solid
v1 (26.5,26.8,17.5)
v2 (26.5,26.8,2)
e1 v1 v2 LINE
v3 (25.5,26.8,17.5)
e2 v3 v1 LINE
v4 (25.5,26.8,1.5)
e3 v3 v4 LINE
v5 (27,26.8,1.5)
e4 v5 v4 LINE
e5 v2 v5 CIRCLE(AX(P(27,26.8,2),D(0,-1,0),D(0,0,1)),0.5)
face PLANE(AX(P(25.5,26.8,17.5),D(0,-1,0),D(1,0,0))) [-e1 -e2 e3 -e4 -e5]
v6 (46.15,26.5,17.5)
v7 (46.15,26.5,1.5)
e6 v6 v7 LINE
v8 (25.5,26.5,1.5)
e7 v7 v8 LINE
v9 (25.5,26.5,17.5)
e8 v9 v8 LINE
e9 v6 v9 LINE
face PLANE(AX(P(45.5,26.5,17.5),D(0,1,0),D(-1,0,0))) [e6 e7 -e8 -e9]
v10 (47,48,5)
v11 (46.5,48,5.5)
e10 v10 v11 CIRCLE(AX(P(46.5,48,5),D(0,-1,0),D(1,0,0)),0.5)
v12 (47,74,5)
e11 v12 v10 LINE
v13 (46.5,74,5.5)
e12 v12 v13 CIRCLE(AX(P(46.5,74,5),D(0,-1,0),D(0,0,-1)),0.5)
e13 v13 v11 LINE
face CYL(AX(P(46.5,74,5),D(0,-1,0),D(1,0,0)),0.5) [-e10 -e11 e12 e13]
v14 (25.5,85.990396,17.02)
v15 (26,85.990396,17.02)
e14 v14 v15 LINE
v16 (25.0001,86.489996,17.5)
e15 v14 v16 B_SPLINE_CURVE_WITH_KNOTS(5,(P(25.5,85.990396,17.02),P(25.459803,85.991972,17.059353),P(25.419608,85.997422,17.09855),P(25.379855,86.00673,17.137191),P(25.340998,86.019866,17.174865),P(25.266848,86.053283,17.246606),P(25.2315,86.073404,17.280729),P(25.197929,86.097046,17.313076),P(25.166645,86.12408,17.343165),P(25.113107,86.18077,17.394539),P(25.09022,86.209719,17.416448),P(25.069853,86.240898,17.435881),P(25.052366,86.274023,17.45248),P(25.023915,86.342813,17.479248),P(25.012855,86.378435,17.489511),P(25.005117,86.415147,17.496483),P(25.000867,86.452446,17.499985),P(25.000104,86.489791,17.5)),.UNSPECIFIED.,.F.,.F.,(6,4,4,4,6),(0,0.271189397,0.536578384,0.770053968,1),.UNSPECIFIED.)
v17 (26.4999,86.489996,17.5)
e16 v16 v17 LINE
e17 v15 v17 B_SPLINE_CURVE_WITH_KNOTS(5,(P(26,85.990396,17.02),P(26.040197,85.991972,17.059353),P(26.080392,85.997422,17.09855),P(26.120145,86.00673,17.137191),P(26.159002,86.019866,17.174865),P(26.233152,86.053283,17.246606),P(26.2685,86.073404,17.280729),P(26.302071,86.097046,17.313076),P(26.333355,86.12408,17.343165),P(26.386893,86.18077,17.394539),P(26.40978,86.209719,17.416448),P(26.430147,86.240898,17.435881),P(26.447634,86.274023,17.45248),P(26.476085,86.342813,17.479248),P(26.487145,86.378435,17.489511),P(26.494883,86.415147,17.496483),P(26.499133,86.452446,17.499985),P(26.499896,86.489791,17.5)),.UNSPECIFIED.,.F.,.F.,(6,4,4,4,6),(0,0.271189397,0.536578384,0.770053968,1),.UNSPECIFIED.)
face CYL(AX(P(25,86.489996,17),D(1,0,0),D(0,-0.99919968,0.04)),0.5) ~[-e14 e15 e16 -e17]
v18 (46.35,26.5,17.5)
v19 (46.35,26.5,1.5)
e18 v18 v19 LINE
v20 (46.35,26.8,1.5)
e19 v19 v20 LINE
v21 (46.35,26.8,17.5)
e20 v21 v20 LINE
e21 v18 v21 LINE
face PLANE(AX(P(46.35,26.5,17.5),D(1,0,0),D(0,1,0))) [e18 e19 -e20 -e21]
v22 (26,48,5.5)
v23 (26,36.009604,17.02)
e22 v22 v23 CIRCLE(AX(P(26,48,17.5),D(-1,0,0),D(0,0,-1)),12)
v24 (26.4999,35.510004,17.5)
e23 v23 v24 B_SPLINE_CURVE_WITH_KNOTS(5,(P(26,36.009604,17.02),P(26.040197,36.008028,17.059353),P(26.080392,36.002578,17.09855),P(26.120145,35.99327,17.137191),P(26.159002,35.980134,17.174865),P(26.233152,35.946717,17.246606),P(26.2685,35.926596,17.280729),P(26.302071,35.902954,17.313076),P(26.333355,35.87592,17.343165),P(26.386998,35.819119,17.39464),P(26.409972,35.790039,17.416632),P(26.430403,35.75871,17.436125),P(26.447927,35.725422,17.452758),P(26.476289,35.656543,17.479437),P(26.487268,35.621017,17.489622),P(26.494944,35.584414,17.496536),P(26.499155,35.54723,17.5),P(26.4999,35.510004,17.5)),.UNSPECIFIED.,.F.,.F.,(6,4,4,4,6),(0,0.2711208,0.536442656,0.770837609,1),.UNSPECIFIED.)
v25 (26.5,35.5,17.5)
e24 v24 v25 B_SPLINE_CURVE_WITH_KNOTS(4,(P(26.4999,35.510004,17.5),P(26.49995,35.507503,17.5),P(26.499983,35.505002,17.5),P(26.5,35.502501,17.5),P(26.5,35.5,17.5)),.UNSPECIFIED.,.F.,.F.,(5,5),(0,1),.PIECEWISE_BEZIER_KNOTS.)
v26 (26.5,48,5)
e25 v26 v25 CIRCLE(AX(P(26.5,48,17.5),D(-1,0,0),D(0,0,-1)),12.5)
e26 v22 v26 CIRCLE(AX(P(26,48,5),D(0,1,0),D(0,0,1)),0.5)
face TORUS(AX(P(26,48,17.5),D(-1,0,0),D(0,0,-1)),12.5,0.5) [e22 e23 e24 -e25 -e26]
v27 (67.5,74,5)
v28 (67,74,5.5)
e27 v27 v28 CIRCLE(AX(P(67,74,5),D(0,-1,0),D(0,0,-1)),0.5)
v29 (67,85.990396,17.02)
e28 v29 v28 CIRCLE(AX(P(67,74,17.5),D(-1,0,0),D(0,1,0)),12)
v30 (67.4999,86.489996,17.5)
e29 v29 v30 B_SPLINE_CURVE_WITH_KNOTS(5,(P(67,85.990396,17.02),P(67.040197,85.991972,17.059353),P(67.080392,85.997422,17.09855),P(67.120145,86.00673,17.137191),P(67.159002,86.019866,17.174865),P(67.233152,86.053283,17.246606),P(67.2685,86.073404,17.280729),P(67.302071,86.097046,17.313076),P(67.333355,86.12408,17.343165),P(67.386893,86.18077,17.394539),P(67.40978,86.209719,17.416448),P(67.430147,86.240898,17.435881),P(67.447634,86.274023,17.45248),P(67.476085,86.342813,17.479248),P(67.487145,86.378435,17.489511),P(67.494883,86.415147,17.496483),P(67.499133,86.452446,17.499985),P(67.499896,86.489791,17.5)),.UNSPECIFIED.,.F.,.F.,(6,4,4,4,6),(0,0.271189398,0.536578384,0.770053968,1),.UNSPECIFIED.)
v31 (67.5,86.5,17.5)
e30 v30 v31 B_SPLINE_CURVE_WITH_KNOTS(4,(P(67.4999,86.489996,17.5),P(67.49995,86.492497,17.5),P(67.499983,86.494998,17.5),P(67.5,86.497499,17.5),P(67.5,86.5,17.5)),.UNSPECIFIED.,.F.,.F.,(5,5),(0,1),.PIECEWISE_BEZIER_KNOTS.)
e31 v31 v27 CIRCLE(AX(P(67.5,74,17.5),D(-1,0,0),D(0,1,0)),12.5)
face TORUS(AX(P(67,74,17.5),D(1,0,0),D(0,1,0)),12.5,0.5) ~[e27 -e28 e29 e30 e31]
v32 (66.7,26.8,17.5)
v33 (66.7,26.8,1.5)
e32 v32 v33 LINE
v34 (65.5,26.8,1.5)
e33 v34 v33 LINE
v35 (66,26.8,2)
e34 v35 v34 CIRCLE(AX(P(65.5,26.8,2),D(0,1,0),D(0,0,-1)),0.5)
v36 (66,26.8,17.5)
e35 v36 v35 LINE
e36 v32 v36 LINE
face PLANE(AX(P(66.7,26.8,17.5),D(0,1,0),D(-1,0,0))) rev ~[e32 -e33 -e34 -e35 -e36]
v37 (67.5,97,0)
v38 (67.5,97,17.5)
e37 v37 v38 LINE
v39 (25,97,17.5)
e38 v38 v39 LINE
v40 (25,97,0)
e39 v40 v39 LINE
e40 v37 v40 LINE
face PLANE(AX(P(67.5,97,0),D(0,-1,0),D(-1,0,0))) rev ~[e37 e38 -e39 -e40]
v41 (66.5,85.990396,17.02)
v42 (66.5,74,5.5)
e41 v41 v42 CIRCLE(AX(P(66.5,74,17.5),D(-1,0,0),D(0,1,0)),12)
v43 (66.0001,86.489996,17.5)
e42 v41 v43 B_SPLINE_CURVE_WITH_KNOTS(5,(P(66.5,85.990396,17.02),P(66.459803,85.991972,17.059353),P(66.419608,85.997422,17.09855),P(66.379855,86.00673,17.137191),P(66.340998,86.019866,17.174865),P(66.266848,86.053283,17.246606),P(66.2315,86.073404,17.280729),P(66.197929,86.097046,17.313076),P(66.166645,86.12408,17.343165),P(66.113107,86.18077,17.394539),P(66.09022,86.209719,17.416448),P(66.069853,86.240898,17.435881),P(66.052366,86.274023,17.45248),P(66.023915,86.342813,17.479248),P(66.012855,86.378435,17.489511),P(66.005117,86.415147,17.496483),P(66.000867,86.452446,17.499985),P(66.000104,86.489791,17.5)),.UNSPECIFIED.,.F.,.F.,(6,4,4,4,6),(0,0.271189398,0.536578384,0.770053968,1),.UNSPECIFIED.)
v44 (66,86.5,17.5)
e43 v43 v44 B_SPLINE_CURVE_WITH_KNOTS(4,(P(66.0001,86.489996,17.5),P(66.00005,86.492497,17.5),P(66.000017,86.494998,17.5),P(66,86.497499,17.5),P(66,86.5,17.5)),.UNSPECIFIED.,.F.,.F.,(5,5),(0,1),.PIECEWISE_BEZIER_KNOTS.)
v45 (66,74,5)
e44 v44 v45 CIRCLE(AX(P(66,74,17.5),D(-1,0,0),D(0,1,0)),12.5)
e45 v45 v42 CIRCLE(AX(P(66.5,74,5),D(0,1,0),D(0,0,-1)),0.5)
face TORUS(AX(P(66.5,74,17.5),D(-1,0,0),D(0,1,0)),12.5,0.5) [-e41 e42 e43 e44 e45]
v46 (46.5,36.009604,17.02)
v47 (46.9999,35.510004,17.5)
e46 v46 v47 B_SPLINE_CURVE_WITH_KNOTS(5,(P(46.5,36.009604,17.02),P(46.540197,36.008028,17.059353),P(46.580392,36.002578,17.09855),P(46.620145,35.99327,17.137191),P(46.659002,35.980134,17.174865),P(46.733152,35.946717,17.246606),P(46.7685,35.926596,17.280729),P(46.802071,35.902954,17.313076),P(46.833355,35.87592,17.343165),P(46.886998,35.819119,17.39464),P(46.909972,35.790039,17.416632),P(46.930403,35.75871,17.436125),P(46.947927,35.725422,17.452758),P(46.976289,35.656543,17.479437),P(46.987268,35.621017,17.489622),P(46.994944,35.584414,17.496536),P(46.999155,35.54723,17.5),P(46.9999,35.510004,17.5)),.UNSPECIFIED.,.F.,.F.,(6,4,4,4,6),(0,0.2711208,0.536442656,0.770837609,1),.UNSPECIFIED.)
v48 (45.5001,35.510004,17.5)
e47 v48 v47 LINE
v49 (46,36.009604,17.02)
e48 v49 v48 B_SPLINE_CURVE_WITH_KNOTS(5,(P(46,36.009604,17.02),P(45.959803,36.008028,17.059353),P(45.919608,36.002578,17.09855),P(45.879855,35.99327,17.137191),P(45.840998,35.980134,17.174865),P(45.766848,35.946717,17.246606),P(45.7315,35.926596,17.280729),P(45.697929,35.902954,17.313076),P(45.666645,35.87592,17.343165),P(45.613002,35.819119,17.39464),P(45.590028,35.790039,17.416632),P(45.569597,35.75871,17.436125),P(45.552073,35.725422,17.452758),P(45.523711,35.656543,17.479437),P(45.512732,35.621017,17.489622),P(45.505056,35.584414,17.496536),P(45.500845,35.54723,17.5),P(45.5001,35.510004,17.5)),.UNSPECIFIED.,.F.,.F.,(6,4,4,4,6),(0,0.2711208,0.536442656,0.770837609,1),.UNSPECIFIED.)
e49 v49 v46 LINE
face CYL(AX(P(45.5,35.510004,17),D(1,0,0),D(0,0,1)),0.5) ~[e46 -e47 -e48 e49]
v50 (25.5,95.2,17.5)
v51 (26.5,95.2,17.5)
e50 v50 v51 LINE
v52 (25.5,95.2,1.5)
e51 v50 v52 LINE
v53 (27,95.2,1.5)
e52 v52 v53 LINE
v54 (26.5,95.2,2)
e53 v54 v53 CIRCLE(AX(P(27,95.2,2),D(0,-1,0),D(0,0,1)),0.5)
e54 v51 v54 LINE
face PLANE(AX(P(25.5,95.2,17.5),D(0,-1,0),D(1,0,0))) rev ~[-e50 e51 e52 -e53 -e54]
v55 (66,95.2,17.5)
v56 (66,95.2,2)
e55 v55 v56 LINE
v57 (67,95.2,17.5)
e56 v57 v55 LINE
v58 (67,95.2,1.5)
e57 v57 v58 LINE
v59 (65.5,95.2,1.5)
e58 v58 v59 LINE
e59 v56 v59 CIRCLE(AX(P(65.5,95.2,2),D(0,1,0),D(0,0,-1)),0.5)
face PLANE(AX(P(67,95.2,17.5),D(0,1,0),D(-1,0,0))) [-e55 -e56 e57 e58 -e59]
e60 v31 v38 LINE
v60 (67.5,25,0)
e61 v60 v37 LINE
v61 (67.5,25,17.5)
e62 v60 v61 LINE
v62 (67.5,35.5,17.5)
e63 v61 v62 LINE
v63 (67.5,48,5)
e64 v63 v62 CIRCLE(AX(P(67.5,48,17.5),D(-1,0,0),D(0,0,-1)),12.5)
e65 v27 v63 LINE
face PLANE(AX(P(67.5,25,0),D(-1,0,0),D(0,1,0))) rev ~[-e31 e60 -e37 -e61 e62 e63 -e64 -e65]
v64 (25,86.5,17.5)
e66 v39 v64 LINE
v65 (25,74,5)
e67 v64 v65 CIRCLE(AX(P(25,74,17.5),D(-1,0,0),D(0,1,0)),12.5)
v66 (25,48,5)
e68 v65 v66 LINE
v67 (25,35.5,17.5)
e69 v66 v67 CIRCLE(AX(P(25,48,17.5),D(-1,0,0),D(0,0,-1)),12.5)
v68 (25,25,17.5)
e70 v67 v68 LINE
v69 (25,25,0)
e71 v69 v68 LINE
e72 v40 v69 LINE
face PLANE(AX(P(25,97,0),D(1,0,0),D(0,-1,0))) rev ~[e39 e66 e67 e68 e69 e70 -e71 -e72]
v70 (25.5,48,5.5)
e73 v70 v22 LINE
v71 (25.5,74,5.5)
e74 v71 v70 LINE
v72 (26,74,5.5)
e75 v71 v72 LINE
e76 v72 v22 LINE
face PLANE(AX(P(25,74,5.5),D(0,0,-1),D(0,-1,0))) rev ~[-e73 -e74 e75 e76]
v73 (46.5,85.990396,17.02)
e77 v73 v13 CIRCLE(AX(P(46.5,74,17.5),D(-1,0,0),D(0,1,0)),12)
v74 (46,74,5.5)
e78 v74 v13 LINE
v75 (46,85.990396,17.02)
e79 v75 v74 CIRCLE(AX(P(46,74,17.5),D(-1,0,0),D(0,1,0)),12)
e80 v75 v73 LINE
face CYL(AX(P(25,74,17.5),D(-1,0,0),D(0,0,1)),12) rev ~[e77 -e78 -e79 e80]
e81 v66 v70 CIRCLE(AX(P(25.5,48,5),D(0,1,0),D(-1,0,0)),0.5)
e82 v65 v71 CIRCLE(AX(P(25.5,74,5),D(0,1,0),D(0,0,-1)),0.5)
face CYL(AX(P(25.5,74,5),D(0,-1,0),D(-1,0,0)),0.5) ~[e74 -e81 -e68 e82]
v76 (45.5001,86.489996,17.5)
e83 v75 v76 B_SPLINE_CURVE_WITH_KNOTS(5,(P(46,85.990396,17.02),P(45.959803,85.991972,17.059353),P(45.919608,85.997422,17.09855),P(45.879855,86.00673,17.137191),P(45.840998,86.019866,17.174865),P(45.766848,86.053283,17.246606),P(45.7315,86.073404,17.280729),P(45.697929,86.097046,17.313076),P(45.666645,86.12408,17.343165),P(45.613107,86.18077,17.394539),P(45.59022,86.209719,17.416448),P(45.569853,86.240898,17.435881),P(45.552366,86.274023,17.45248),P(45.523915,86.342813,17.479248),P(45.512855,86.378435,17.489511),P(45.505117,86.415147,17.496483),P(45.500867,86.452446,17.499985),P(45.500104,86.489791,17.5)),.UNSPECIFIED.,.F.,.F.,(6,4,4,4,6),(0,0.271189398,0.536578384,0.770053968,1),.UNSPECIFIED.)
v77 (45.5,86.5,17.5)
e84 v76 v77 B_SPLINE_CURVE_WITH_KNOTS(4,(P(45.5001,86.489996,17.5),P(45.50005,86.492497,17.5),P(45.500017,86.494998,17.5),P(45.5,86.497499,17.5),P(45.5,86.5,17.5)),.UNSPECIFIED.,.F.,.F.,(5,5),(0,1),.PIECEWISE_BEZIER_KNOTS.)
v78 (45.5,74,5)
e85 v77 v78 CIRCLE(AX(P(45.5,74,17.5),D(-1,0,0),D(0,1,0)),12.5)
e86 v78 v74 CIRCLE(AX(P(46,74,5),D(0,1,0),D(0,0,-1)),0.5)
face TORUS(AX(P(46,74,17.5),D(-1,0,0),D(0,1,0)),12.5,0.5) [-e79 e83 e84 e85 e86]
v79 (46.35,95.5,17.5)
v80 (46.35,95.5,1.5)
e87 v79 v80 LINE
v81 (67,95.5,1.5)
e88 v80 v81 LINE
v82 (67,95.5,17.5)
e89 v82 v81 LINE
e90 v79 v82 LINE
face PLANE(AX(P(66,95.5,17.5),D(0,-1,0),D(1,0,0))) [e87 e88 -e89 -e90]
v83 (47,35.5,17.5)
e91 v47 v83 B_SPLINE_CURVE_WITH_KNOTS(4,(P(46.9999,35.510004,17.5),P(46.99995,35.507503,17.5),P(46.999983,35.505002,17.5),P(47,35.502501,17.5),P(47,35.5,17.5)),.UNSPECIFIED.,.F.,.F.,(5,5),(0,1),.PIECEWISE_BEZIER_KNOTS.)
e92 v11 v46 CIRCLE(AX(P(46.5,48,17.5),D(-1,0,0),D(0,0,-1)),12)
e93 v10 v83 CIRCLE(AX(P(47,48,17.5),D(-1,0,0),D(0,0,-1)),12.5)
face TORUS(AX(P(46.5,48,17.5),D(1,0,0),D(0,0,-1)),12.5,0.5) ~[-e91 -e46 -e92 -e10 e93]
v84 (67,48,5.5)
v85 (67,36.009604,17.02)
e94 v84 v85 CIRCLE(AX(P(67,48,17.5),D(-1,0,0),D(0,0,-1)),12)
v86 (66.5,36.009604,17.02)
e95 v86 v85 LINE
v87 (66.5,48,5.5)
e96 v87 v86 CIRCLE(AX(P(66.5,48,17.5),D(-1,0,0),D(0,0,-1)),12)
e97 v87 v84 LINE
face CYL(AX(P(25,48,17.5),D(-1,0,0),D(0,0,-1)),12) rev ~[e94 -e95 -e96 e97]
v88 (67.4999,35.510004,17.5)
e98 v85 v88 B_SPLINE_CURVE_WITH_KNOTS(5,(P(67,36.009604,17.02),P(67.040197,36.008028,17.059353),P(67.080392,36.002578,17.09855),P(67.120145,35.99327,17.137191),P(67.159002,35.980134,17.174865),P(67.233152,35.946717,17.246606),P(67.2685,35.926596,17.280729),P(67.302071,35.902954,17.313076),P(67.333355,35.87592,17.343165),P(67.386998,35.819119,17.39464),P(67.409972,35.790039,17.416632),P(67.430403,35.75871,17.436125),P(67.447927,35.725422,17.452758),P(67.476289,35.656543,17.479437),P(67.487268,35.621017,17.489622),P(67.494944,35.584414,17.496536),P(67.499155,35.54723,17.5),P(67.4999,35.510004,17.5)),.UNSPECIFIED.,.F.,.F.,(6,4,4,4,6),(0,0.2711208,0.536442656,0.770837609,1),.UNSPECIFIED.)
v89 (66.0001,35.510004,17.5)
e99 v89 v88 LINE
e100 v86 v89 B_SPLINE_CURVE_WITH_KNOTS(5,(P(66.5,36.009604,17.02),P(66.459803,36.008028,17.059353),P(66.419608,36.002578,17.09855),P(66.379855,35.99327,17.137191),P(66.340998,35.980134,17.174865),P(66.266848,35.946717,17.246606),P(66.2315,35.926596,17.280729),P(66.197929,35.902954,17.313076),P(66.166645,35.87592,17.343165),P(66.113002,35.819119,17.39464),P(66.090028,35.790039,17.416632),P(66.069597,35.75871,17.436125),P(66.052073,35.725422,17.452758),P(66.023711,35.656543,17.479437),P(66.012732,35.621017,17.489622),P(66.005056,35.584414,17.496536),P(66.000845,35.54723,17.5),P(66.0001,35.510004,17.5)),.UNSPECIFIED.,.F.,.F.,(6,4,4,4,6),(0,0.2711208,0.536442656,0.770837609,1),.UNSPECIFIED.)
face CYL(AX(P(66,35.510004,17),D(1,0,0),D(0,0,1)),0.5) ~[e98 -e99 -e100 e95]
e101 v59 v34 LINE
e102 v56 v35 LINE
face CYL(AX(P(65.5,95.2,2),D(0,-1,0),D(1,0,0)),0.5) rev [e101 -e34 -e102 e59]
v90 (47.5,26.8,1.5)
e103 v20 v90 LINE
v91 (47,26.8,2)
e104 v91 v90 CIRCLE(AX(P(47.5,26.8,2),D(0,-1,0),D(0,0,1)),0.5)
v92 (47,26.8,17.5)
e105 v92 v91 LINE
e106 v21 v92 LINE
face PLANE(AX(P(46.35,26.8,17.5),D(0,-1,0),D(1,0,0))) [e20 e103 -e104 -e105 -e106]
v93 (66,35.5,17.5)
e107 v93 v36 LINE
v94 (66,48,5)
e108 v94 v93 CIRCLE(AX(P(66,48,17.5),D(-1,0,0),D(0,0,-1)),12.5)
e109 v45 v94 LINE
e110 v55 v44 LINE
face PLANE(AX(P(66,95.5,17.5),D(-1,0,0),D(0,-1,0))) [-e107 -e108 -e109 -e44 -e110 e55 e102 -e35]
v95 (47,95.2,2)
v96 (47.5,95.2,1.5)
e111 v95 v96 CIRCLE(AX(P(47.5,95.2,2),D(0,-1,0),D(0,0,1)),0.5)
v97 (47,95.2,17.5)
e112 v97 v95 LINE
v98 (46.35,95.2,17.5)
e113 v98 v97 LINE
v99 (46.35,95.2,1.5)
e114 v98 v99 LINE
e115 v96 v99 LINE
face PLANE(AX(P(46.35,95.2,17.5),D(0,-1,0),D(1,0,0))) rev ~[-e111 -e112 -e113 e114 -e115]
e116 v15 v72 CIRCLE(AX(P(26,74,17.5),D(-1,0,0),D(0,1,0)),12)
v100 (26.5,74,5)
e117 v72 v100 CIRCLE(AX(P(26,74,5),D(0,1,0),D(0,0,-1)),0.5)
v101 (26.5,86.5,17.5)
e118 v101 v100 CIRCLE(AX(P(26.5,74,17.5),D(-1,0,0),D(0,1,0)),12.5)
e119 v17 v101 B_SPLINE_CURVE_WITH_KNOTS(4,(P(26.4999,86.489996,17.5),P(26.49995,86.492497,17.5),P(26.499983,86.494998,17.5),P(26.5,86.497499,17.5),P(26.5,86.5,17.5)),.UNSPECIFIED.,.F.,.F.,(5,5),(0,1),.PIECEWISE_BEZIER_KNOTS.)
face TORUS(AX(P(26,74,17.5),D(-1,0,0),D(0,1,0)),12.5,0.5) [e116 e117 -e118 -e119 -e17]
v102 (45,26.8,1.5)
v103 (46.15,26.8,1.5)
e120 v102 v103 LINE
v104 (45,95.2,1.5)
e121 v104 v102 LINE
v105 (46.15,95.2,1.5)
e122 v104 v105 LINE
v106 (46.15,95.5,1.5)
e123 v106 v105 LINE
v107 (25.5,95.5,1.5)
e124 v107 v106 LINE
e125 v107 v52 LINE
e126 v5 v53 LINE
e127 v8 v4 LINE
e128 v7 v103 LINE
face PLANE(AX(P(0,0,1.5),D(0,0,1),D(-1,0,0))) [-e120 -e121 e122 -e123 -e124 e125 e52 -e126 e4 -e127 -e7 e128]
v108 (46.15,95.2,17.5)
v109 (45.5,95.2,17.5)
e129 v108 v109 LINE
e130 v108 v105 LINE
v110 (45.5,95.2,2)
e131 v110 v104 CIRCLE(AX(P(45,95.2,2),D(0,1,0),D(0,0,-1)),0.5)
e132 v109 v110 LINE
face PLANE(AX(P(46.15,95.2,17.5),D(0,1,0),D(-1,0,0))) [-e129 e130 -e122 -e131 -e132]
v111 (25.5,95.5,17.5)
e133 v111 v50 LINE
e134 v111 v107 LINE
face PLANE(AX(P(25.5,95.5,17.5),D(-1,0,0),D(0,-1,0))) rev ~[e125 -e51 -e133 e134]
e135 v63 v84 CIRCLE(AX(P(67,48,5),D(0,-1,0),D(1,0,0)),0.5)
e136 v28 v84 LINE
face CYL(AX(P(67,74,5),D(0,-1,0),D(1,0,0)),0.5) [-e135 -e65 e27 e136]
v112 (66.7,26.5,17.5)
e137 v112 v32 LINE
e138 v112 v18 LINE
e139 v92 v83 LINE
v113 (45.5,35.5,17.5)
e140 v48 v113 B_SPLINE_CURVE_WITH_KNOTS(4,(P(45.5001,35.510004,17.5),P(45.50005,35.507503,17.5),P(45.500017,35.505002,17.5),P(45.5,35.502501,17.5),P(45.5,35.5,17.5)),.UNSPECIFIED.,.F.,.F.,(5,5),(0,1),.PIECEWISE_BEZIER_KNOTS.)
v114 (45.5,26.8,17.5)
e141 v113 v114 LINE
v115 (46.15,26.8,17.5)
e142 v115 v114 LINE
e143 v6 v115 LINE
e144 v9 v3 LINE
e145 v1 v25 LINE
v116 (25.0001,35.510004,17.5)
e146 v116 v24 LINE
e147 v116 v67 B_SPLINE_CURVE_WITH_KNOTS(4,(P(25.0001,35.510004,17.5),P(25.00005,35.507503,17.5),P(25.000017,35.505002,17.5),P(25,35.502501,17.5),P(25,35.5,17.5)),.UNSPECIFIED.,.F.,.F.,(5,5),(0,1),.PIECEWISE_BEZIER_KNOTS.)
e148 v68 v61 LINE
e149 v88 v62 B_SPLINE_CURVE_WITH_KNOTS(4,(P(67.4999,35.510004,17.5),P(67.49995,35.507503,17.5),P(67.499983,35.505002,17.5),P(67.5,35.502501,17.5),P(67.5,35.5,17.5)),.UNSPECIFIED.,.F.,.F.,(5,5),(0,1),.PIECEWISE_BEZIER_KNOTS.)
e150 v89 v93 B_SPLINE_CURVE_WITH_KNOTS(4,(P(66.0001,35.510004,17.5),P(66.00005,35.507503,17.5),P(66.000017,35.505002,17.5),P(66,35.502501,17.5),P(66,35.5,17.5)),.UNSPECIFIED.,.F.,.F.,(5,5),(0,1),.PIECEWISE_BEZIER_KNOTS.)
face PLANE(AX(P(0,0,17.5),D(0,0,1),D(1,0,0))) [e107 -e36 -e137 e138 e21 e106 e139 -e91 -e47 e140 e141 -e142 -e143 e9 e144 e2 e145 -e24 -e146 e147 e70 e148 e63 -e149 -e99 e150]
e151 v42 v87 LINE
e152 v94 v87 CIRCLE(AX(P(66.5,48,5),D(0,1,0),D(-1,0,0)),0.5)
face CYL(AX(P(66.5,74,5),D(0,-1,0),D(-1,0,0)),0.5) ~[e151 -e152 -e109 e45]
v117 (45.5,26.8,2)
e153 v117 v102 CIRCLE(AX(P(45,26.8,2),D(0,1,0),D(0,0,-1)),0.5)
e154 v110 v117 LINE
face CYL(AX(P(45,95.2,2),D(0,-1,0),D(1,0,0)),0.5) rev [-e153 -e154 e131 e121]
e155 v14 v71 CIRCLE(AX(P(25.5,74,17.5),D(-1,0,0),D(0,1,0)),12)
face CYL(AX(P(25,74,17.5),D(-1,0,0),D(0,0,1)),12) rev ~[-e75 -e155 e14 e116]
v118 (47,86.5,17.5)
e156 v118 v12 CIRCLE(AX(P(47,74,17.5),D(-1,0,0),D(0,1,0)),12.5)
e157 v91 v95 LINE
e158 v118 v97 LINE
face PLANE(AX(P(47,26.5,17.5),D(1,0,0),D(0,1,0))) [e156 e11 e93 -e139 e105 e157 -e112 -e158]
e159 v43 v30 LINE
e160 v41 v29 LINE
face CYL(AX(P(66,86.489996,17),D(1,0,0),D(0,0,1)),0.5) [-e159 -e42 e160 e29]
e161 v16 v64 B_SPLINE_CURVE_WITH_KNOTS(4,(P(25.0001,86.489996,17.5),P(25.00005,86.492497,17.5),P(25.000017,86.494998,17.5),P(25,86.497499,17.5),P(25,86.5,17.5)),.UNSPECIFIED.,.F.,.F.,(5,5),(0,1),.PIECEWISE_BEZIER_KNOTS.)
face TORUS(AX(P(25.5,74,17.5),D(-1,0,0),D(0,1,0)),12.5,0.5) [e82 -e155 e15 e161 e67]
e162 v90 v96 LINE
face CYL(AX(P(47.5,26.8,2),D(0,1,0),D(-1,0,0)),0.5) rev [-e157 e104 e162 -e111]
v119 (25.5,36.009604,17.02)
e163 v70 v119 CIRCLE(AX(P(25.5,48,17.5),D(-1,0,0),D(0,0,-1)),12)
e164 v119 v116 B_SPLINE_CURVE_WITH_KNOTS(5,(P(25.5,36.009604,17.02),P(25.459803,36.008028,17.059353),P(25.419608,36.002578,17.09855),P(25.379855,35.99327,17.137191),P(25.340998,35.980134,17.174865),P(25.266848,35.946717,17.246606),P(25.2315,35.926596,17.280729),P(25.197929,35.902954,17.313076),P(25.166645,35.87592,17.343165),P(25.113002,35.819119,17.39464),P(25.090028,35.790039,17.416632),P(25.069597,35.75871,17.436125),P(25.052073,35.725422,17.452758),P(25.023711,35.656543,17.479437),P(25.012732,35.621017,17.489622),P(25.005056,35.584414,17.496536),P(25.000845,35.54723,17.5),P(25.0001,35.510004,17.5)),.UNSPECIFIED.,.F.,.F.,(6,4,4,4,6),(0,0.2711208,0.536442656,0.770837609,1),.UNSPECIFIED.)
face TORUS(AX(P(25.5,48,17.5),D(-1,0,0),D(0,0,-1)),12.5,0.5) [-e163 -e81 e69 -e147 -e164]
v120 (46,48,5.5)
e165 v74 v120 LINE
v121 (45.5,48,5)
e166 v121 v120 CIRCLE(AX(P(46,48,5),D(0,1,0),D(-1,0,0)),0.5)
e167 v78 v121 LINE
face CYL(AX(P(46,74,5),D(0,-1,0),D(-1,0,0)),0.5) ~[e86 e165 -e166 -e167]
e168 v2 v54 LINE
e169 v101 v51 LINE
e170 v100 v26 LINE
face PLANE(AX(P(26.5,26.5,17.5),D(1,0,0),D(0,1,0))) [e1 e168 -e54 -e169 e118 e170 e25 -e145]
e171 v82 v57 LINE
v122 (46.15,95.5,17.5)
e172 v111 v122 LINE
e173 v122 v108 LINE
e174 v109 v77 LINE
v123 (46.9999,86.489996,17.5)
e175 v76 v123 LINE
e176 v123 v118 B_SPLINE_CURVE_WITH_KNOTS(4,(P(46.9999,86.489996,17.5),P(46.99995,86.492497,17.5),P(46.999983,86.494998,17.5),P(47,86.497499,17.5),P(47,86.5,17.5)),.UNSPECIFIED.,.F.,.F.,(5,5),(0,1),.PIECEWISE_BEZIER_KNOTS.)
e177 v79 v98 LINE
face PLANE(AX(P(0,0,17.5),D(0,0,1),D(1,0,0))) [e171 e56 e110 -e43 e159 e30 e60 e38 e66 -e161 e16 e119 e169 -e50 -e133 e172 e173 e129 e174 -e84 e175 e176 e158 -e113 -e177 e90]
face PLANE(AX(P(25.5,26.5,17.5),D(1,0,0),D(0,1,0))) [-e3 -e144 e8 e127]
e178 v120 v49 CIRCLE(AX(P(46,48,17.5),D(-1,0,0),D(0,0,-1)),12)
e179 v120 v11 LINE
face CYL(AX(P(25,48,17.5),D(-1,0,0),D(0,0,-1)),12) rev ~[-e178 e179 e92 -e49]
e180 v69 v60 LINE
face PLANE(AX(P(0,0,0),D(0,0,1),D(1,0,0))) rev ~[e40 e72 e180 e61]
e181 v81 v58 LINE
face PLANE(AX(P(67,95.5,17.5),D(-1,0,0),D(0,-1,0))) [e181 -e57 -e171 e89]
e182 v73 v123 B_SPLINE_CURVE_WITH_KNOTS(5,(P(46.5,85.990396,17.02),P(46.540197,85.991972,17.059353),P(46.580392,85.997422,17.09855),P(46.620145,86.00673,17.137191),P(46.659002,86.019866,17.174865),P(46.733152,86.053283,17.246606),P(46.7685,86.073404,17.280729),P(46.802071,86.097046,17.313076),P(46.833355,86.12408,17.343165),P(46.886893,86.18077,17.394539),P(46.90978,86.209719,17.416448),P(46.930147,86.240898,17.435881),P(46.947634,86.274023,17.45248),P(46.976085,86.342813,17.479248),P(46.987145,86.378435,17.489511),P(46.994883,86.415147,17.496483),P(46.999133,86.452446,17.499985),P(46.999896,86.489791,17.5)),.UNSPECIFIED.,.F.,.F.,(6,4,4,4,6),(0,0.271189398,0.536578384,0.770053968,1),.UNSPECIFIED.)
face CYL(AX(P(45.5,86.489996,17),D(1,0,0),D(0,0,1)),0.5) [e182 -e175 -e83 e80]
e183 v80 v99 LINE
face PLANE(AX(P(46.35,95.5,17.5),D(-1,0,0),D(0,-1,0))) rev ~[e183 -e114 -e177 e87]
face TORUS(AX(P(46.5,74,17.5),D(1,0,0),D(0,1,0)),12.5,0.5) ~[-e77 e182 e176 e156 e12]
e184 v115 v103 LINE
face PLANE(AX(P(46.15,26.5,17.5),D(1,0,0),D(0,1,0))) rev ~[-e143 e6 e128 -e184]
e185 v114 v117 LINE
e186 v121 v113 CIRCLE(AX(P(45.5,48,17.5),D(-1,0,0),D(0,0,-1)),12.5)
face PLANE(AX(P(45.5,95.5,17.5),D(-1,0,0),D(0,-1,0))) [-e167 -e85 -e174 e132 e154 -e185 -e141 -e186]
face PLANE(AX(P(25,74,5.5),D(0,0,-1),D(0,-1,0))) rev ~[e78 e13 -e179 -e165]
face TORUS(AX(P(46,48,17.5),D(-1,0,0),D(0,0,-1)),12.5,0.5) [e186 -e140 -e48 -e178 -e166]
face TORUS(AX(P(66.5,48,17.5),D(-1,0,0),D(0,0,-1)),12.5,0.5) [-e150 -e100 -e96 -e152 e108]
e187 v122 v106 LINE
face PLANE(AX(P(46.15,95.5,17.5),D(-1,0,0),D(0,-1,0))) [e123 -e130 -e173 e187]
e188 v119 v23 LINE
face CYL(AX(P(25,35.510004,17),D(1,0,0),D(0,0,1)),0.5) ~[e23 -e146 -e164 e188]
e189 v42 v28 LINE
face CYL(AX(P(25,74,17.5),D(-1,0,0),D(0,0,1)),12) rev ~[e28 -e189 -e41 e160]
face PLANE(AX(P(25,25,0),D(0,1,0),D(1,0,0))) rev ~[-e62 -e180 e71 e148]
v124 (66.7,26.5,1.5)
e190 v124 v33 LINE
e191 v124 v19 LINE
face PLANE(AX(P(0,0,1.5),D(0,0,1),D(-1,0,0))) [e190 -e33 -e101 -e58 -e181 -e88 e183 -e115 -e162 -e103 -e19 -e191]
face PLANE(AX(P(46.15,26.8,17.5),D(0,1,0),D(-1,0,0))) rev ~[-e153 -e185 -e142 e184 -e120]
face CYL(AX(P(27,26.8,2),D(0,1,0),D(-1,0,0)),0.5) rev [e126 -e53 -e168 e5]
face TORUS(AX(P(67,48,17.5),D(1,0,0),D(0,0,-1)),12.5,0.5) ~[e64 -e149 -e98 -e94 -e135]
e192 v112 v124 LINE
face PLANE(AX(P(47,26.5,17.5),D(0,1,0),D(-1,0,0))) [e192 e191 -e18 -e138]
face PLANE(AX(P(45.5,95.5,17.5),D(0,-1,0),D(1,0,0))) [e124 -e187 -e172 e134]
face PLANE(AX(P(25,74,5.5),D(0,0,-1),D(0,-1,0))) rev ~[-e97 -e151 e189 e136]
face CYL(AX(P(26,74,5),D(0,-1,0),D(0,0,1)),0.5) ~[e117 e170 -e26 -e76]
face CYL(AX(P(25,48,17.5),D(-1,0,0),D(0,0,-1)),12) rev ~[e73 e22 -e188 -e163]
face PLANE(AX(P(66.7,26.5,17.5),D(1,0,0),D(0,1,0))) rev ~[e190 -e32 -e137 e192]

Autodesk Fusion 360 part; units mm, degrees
sketch "Sketch1" plane through (0, 0, 0) normal (0, 0, 1) x (1, 0, 0)
  line L0 (25, 25) -> (67.5, 25)
  line L1 (67.5, 25) -> (67.5, 97)
  line L2 (67.5, 97) -> (25, 97)
  line L3 (25, 97) -> (25, 25)
  dimension "d1" = 42.5
  dimension "d2" = 72
extrude "Extrude1" add sketch "Sketch1" along normal blind 17.5
sketch "Sketch2" plane through (0, 0, 17.5) normal (0, 0, 1) x (-1, 0, 0)
  line L0 (-25, -97) -> (-25, -25)
  line L1 (-25, -25) -> (-67.5, -25)
  line L2 (-67.5, -25) -> (-67.5, -97)
  line L3 (-67.5, -97) -> (-25, -97)
  line L4 (-25, -97) -> (-26.5, -97)
  line L5 (-26.5, -97) -> (-26.5, -95.5)
  line L6 (-26.5, -95.5) -> (-25, -95.5)
  line L7 (-25, -95.5) -> (-25, -97)
  line L8 (-67.5, -25) -> (-66, -25)
  line L9 (-66, -25) -> (-66, -26.5)
  line L10 (-66, -26.5) -> (-67.5, -26.5)
  line L11 (-67.5, -26.5) -> (-67.5, -25)
  line L12 (-47, -25) -> (-45.5, -25) construction
  line L13 (-45.5, -25) -> (-45.5, -26.5) construction
  line L14 (-45.5, -26.5) -> (-47, -26.5) construction
  line L15 (-47, -26.5) -> (-47, -25) construction
  line L16 (-26.5, -95.5) -> (-45.5, -95.5)
  line L17 (-45.5, -95.5) -> (-45.5, -26.5)
  line L18 (-45.5, -26.5) -> (-26.5, -26.5)
  line L19 (-26.5, -26.5) -> (-26.5, -95.5)
  line L20 (-45.5, -97) -> (-47, -97)
  line L21 (-47, -97) -> (-47, -95.5)
  line L22 (-47, -95.5) -> (-45.5, -95.5)
  line L23 (-45.5, -95.5) -> (-45.5, -97)
  line L24 (-47, -95.5) -> (-66, -95.5)
  line L25 (-66, -95.5) -> (-66, -26.5)
  line L26 (-66, -26.5) -> (-47, -26.5)
  line L27 (-47, -26.5) -> (-47, -95.5)
  point P0 (-47, -25)
  point P1 (-45.5, -97)
  dimension "d5" = 1.5
  dimension "d6" = 1.5
  dimension "d7" = 1.5
  dimension "d8" = 1.5
  dimension "d9" = 22
  dimension "d10" = 1.5
  dimension "d11" = 1.5
  dimension "d12" = 22
  dimension "d15" = 1.5
  dimension "d16" = 1.5
extrude "Extrude2" cut sketch "Sketch2" against normal blind 16 contours L16 L17 L18 L19 | L24 L25 L26 L27
sketch "Sketch3" plane through (25, 0, 0) normal (-1, 0, 0) x (0, -1, 0)
  line L0 (-97, 0) -> (-25, 0)
  line L1 (-25, 0) -> (-25, 17.5)
  line L2 (-25, 17.5) -> (-97, 17.5)
  line L3 (-97, 17.5) -> (-97, 0)
  line L4 (-61, 0) -> (-61, 17.5) construction
  line L5 (-74, 5.5) -> (-48, 5.5)
  arc A0 (-48, 5.5) -> (-48, 29.5) centre (-48, 17.5) ccw
  line L6 (-48, 29.5) -> (-74, 29.5)
  arc A1 (-74, 29.5) -> (-74, 5.5) centre (-74, 17.5) ccw
  line L7 (-86, 17.5) -> (-36, 17.5) construction
  point P0 (-36, 17.5)
  point P1 (-86, 17.5)
  dimension "d19" = 25
  dimension "d20" = 25
  dimension "d21" = 24
extrude "Extrude3" cut sketch "Sketch3" against normal blind 42.5 contours L2 L5 A0 A1
fillet "Fillet1" radius 0.5 24 edges at (25, 39.5147, 9.0147) (25, 61, 5.5) (25, 82.4853, 9.0147) (45.5, 39.5147, 9.0147) (45.5, 61, 5.5) (45.5, 82.4853, 9.0147) (66, 39.5147, 9.0147) (66, 61, 5.5) (66, 82.4853, 9.0147) (26.5, 82.4853, 9.0147) (26.5, 61, 5.5) (26.5, 39.5147, 9.0147) (47, 82.4853, 9.0147) (47, 61, 5.5) (47, 39.5147, 9.0147) (67.5, 82.4853, 9.0147) (67.5, 61, 5.5) (67.5, 39.5147, 9.0147) (66.75, 36, 17.5) (46.25, 36, 17.5) (25.75, 36, 17.5) (25.75, 86, 17.5) (46.25, 86, 17.5) (66.75, 86, 17.5)
sketch "Sketch4" plane through (0, 0, 17.5) normal (0, 0, 1) x (-1, 0, 0)
  arc A0 (-67.4999, -86.49) -> (-67.5, -86.5) centre (-67, -86.5) ccw
  line L0 (-67.5, -86.5) -> (-67.5, -97)
  line L1 (-67.5, -97) -> (-25, -97)
  line L2 (-25, -97) -> (-25, -86.5)
  arc A1 (-25, -86.5) -> (-25.0001, -86.49) centre (-25.5, -86.5) ccw
  line L3 (-25.0001, -86.49) -> (-26.4999, -86.49)
  arc A2 (-26.4999, -86.49) -> (-26.5, -86.5) centre (-26, -86.5) ccw
  line L4 (-26.5, -86.5) -> (-26.5, -95.5)
  line L5 (-26.5, -95.5) -> (-45.5, -95.5)
  line L6 (-45.5, -95.5) -> (-45.5, -86.5)
  arc A3 (-45.5, -86.5) -> (-45.5001, -86.49) centre (-46, -86.5) ccw
  line L7 (-45.5001, -86.49) -> (-46.9999, -86.49)
  arc A4 (-46.9999, -86.49) -> (-47, -86.5) centre (-46.5, -86.5) ccw
  line L8 (-47, -86.5) -> (-47, -95.5)
  line L9 (-47, -95.5) -> (-66, -95.5)
  line L10 (-66, -95.5) -> (-66, -86.5)
  arc A5 (-66, -86.5) -> (-66.0001, -86.49) centre (-66.5, -86.5) ccw
  line L11 (-66.0001, -86.49) -> (-67.4999, -86.49)
  line L12 (-26.5, -95.5) -> (-25.5, -95.5)
  line L13 (-25.5, -95.5) -> (-25.5, -95.2)
  line L14 (-25.5, -95.2) -> (-26.5, -95.2)
  line L15 (-26.5, -95.2) -> (-26.5, -95.5)
  line L16 (-66, -95.5) -> (-67, -95.5)
  line L17 (-67, -95.5) -> (-67, -95.2)
  line L18 (-67, -95.2) -> (-66, -95.2)
  line L19 (-66, -95.2) -> (-66, -95.5)
  line L20 (-45.5, -95.5) -> (-46.15, -95.5)
  line L21 (-46.15, -95.5) -> (-46.15, -95.2)
  line L22 (-46.15, -95.2) -> (-45.5, -95.2)
  line L23 (-45.5, -95.2) -> (-45.5, -95.5)
  line L24 (-47, -95.5) -> (-46.35, -95.5)
  line L25 (-46.35, -95.5) -> (-46.35, -95.2)
  line L26 (-46.35, -95.2) -> (-47, -95.2)
  line L27 (-47, -95.2) -> (-47, -95.5)
  dimension "d25" = 1
  dimension "d26" = 0.3
  dimension "d27" = 1
  dimension "d28" = 0.3
  dimension "d29" = 0.65
  dimension "d30" = 0.3
  dimension "d42" = 0.65
  dimension "d43" = 0.3
sketch "Sketch5" plane through (0, 0, 17.5) normal (0, 0, 1) x (-1, 0, 0)
  arc A0 (-67.5, -35.5) -> (-67.4999, -35.51) centre (-67, -35.5) ccw
  line L0 (-67.4999, -35.51) -> (-66.0001, -35.51)
  arc A1 (-66.0001, -35.51) -> (-66, -35.5) centre (-66.5, -35.5) ccw
  line L1 (-66, -35.5) -> (-66, -26.5)
  line L2 (-66, -26.5) -> (-47, -26.5)
  line L3 (-47, -26.5) -> (-47, -35.5)
  arc A2 (-47, -35.5) -> (-46.9999, -35.51) centre (-46.5, -35.5) ccw
  line L4 (-46.9999, -35.51) -> (-45.5001, -35.51)
  arc A3 (-45.5001, -35.51) -> (-45.5, -35.5) centre (-46, -35.5) ccw
  line L5 (-45.5, -35.5) -> (-45.5, -26.5)
  line L6 (-45.5, -26.5) -> (-26.5, -26.5)
  line L7 (-26.5, -26.5) -> (-26.5, -35.5)
  arc A4 (-26.5, -35.5) -> (-26.4999, -35.51) centre (-26, -35.5) ccw
  line L8 (-26.4999, -35.51) -> (-25.0001, -35.51)
  arc A5 (-25.0001, -35.51) -> (-25, -35.5) centre (-25.5, -35.5) ccw
  line L9 (-25, -35.5) -> (-25, -25)
  line L10 (-25, -25) -> (-67.5, -25)
  line L11 (-67.5, -25) -> (-67.5, -35.5)
  line L12 (-26.5, -26.5) -> (-25.5, -26.5)
  line L13 (-25.5, -26.5) -> (-25.5, -26.8)
  line L14 (-25.5, -26.8) -> (-26.5, -26.8)
  line L15 (-26.5, -26.8) -> (-26.5, -26.5)
  line L16 (-45.5, -26.5) -> (-46.15, -26.5)
  line L17 (-46.15, -26.5) -> (-46.15, -26.8)
  line L18 (-46.15, -26.8) -> (-45.5, -26.8)
  line L19 (-45.5, -26.8) -> (-45.5, -26.5)
  line L20 (-47, -26.5) -> (-46.35, -26.5)
  line L21 (-46.35, -26.5) -> (-46.35, -26.8)
  line L22 (-46.35, -26.8) -> (-47, -26.8)
  line L23 (-47, -26.8) -> (-47, -26.5)
  line L24 (-66, -26.5) -> (-66.7, -26.5)
  line L25 (-66.7, -26.5) -> (-66.7, -26.8)
  line L26 (-66.7, -26.8) -> (-66, -26.8)
  line L27 (-66, -26.8) -> (-66, -26.5)
  dimension "d31" = 1
  dimension "d32" = 0.3
  dimension "d33" = 0.65
  dimension "d34" = 0.3
  dimension "d35" = 0.65
  dimension "d36" = 0.3
  dimension "d37" = 0.7
  dimension "d38" = 0.3
extrude "Extrude4" cut sketch "Sketch4" sketch "Sketch5" against normal blind 16 contours L10 L16 L17 L18 L19 | L8 L24 L25 L26 L27 | L4 L12 L13 L14 L15 | L6 L20 L21 L22 L23 of sketch 2 contours L1 L24 L25 L26 L27 | L3 L20 L21 L22 L23 | L7 L12 L13 L14 L15 | L5 L16 L17 L18 L19
fillet "Fillet2" radius 0.5 4 edges at (26.5, 61, 1.5) (45.5, 61, 1.5) (47, 61, 1.5) (66, 61, 1.5)
